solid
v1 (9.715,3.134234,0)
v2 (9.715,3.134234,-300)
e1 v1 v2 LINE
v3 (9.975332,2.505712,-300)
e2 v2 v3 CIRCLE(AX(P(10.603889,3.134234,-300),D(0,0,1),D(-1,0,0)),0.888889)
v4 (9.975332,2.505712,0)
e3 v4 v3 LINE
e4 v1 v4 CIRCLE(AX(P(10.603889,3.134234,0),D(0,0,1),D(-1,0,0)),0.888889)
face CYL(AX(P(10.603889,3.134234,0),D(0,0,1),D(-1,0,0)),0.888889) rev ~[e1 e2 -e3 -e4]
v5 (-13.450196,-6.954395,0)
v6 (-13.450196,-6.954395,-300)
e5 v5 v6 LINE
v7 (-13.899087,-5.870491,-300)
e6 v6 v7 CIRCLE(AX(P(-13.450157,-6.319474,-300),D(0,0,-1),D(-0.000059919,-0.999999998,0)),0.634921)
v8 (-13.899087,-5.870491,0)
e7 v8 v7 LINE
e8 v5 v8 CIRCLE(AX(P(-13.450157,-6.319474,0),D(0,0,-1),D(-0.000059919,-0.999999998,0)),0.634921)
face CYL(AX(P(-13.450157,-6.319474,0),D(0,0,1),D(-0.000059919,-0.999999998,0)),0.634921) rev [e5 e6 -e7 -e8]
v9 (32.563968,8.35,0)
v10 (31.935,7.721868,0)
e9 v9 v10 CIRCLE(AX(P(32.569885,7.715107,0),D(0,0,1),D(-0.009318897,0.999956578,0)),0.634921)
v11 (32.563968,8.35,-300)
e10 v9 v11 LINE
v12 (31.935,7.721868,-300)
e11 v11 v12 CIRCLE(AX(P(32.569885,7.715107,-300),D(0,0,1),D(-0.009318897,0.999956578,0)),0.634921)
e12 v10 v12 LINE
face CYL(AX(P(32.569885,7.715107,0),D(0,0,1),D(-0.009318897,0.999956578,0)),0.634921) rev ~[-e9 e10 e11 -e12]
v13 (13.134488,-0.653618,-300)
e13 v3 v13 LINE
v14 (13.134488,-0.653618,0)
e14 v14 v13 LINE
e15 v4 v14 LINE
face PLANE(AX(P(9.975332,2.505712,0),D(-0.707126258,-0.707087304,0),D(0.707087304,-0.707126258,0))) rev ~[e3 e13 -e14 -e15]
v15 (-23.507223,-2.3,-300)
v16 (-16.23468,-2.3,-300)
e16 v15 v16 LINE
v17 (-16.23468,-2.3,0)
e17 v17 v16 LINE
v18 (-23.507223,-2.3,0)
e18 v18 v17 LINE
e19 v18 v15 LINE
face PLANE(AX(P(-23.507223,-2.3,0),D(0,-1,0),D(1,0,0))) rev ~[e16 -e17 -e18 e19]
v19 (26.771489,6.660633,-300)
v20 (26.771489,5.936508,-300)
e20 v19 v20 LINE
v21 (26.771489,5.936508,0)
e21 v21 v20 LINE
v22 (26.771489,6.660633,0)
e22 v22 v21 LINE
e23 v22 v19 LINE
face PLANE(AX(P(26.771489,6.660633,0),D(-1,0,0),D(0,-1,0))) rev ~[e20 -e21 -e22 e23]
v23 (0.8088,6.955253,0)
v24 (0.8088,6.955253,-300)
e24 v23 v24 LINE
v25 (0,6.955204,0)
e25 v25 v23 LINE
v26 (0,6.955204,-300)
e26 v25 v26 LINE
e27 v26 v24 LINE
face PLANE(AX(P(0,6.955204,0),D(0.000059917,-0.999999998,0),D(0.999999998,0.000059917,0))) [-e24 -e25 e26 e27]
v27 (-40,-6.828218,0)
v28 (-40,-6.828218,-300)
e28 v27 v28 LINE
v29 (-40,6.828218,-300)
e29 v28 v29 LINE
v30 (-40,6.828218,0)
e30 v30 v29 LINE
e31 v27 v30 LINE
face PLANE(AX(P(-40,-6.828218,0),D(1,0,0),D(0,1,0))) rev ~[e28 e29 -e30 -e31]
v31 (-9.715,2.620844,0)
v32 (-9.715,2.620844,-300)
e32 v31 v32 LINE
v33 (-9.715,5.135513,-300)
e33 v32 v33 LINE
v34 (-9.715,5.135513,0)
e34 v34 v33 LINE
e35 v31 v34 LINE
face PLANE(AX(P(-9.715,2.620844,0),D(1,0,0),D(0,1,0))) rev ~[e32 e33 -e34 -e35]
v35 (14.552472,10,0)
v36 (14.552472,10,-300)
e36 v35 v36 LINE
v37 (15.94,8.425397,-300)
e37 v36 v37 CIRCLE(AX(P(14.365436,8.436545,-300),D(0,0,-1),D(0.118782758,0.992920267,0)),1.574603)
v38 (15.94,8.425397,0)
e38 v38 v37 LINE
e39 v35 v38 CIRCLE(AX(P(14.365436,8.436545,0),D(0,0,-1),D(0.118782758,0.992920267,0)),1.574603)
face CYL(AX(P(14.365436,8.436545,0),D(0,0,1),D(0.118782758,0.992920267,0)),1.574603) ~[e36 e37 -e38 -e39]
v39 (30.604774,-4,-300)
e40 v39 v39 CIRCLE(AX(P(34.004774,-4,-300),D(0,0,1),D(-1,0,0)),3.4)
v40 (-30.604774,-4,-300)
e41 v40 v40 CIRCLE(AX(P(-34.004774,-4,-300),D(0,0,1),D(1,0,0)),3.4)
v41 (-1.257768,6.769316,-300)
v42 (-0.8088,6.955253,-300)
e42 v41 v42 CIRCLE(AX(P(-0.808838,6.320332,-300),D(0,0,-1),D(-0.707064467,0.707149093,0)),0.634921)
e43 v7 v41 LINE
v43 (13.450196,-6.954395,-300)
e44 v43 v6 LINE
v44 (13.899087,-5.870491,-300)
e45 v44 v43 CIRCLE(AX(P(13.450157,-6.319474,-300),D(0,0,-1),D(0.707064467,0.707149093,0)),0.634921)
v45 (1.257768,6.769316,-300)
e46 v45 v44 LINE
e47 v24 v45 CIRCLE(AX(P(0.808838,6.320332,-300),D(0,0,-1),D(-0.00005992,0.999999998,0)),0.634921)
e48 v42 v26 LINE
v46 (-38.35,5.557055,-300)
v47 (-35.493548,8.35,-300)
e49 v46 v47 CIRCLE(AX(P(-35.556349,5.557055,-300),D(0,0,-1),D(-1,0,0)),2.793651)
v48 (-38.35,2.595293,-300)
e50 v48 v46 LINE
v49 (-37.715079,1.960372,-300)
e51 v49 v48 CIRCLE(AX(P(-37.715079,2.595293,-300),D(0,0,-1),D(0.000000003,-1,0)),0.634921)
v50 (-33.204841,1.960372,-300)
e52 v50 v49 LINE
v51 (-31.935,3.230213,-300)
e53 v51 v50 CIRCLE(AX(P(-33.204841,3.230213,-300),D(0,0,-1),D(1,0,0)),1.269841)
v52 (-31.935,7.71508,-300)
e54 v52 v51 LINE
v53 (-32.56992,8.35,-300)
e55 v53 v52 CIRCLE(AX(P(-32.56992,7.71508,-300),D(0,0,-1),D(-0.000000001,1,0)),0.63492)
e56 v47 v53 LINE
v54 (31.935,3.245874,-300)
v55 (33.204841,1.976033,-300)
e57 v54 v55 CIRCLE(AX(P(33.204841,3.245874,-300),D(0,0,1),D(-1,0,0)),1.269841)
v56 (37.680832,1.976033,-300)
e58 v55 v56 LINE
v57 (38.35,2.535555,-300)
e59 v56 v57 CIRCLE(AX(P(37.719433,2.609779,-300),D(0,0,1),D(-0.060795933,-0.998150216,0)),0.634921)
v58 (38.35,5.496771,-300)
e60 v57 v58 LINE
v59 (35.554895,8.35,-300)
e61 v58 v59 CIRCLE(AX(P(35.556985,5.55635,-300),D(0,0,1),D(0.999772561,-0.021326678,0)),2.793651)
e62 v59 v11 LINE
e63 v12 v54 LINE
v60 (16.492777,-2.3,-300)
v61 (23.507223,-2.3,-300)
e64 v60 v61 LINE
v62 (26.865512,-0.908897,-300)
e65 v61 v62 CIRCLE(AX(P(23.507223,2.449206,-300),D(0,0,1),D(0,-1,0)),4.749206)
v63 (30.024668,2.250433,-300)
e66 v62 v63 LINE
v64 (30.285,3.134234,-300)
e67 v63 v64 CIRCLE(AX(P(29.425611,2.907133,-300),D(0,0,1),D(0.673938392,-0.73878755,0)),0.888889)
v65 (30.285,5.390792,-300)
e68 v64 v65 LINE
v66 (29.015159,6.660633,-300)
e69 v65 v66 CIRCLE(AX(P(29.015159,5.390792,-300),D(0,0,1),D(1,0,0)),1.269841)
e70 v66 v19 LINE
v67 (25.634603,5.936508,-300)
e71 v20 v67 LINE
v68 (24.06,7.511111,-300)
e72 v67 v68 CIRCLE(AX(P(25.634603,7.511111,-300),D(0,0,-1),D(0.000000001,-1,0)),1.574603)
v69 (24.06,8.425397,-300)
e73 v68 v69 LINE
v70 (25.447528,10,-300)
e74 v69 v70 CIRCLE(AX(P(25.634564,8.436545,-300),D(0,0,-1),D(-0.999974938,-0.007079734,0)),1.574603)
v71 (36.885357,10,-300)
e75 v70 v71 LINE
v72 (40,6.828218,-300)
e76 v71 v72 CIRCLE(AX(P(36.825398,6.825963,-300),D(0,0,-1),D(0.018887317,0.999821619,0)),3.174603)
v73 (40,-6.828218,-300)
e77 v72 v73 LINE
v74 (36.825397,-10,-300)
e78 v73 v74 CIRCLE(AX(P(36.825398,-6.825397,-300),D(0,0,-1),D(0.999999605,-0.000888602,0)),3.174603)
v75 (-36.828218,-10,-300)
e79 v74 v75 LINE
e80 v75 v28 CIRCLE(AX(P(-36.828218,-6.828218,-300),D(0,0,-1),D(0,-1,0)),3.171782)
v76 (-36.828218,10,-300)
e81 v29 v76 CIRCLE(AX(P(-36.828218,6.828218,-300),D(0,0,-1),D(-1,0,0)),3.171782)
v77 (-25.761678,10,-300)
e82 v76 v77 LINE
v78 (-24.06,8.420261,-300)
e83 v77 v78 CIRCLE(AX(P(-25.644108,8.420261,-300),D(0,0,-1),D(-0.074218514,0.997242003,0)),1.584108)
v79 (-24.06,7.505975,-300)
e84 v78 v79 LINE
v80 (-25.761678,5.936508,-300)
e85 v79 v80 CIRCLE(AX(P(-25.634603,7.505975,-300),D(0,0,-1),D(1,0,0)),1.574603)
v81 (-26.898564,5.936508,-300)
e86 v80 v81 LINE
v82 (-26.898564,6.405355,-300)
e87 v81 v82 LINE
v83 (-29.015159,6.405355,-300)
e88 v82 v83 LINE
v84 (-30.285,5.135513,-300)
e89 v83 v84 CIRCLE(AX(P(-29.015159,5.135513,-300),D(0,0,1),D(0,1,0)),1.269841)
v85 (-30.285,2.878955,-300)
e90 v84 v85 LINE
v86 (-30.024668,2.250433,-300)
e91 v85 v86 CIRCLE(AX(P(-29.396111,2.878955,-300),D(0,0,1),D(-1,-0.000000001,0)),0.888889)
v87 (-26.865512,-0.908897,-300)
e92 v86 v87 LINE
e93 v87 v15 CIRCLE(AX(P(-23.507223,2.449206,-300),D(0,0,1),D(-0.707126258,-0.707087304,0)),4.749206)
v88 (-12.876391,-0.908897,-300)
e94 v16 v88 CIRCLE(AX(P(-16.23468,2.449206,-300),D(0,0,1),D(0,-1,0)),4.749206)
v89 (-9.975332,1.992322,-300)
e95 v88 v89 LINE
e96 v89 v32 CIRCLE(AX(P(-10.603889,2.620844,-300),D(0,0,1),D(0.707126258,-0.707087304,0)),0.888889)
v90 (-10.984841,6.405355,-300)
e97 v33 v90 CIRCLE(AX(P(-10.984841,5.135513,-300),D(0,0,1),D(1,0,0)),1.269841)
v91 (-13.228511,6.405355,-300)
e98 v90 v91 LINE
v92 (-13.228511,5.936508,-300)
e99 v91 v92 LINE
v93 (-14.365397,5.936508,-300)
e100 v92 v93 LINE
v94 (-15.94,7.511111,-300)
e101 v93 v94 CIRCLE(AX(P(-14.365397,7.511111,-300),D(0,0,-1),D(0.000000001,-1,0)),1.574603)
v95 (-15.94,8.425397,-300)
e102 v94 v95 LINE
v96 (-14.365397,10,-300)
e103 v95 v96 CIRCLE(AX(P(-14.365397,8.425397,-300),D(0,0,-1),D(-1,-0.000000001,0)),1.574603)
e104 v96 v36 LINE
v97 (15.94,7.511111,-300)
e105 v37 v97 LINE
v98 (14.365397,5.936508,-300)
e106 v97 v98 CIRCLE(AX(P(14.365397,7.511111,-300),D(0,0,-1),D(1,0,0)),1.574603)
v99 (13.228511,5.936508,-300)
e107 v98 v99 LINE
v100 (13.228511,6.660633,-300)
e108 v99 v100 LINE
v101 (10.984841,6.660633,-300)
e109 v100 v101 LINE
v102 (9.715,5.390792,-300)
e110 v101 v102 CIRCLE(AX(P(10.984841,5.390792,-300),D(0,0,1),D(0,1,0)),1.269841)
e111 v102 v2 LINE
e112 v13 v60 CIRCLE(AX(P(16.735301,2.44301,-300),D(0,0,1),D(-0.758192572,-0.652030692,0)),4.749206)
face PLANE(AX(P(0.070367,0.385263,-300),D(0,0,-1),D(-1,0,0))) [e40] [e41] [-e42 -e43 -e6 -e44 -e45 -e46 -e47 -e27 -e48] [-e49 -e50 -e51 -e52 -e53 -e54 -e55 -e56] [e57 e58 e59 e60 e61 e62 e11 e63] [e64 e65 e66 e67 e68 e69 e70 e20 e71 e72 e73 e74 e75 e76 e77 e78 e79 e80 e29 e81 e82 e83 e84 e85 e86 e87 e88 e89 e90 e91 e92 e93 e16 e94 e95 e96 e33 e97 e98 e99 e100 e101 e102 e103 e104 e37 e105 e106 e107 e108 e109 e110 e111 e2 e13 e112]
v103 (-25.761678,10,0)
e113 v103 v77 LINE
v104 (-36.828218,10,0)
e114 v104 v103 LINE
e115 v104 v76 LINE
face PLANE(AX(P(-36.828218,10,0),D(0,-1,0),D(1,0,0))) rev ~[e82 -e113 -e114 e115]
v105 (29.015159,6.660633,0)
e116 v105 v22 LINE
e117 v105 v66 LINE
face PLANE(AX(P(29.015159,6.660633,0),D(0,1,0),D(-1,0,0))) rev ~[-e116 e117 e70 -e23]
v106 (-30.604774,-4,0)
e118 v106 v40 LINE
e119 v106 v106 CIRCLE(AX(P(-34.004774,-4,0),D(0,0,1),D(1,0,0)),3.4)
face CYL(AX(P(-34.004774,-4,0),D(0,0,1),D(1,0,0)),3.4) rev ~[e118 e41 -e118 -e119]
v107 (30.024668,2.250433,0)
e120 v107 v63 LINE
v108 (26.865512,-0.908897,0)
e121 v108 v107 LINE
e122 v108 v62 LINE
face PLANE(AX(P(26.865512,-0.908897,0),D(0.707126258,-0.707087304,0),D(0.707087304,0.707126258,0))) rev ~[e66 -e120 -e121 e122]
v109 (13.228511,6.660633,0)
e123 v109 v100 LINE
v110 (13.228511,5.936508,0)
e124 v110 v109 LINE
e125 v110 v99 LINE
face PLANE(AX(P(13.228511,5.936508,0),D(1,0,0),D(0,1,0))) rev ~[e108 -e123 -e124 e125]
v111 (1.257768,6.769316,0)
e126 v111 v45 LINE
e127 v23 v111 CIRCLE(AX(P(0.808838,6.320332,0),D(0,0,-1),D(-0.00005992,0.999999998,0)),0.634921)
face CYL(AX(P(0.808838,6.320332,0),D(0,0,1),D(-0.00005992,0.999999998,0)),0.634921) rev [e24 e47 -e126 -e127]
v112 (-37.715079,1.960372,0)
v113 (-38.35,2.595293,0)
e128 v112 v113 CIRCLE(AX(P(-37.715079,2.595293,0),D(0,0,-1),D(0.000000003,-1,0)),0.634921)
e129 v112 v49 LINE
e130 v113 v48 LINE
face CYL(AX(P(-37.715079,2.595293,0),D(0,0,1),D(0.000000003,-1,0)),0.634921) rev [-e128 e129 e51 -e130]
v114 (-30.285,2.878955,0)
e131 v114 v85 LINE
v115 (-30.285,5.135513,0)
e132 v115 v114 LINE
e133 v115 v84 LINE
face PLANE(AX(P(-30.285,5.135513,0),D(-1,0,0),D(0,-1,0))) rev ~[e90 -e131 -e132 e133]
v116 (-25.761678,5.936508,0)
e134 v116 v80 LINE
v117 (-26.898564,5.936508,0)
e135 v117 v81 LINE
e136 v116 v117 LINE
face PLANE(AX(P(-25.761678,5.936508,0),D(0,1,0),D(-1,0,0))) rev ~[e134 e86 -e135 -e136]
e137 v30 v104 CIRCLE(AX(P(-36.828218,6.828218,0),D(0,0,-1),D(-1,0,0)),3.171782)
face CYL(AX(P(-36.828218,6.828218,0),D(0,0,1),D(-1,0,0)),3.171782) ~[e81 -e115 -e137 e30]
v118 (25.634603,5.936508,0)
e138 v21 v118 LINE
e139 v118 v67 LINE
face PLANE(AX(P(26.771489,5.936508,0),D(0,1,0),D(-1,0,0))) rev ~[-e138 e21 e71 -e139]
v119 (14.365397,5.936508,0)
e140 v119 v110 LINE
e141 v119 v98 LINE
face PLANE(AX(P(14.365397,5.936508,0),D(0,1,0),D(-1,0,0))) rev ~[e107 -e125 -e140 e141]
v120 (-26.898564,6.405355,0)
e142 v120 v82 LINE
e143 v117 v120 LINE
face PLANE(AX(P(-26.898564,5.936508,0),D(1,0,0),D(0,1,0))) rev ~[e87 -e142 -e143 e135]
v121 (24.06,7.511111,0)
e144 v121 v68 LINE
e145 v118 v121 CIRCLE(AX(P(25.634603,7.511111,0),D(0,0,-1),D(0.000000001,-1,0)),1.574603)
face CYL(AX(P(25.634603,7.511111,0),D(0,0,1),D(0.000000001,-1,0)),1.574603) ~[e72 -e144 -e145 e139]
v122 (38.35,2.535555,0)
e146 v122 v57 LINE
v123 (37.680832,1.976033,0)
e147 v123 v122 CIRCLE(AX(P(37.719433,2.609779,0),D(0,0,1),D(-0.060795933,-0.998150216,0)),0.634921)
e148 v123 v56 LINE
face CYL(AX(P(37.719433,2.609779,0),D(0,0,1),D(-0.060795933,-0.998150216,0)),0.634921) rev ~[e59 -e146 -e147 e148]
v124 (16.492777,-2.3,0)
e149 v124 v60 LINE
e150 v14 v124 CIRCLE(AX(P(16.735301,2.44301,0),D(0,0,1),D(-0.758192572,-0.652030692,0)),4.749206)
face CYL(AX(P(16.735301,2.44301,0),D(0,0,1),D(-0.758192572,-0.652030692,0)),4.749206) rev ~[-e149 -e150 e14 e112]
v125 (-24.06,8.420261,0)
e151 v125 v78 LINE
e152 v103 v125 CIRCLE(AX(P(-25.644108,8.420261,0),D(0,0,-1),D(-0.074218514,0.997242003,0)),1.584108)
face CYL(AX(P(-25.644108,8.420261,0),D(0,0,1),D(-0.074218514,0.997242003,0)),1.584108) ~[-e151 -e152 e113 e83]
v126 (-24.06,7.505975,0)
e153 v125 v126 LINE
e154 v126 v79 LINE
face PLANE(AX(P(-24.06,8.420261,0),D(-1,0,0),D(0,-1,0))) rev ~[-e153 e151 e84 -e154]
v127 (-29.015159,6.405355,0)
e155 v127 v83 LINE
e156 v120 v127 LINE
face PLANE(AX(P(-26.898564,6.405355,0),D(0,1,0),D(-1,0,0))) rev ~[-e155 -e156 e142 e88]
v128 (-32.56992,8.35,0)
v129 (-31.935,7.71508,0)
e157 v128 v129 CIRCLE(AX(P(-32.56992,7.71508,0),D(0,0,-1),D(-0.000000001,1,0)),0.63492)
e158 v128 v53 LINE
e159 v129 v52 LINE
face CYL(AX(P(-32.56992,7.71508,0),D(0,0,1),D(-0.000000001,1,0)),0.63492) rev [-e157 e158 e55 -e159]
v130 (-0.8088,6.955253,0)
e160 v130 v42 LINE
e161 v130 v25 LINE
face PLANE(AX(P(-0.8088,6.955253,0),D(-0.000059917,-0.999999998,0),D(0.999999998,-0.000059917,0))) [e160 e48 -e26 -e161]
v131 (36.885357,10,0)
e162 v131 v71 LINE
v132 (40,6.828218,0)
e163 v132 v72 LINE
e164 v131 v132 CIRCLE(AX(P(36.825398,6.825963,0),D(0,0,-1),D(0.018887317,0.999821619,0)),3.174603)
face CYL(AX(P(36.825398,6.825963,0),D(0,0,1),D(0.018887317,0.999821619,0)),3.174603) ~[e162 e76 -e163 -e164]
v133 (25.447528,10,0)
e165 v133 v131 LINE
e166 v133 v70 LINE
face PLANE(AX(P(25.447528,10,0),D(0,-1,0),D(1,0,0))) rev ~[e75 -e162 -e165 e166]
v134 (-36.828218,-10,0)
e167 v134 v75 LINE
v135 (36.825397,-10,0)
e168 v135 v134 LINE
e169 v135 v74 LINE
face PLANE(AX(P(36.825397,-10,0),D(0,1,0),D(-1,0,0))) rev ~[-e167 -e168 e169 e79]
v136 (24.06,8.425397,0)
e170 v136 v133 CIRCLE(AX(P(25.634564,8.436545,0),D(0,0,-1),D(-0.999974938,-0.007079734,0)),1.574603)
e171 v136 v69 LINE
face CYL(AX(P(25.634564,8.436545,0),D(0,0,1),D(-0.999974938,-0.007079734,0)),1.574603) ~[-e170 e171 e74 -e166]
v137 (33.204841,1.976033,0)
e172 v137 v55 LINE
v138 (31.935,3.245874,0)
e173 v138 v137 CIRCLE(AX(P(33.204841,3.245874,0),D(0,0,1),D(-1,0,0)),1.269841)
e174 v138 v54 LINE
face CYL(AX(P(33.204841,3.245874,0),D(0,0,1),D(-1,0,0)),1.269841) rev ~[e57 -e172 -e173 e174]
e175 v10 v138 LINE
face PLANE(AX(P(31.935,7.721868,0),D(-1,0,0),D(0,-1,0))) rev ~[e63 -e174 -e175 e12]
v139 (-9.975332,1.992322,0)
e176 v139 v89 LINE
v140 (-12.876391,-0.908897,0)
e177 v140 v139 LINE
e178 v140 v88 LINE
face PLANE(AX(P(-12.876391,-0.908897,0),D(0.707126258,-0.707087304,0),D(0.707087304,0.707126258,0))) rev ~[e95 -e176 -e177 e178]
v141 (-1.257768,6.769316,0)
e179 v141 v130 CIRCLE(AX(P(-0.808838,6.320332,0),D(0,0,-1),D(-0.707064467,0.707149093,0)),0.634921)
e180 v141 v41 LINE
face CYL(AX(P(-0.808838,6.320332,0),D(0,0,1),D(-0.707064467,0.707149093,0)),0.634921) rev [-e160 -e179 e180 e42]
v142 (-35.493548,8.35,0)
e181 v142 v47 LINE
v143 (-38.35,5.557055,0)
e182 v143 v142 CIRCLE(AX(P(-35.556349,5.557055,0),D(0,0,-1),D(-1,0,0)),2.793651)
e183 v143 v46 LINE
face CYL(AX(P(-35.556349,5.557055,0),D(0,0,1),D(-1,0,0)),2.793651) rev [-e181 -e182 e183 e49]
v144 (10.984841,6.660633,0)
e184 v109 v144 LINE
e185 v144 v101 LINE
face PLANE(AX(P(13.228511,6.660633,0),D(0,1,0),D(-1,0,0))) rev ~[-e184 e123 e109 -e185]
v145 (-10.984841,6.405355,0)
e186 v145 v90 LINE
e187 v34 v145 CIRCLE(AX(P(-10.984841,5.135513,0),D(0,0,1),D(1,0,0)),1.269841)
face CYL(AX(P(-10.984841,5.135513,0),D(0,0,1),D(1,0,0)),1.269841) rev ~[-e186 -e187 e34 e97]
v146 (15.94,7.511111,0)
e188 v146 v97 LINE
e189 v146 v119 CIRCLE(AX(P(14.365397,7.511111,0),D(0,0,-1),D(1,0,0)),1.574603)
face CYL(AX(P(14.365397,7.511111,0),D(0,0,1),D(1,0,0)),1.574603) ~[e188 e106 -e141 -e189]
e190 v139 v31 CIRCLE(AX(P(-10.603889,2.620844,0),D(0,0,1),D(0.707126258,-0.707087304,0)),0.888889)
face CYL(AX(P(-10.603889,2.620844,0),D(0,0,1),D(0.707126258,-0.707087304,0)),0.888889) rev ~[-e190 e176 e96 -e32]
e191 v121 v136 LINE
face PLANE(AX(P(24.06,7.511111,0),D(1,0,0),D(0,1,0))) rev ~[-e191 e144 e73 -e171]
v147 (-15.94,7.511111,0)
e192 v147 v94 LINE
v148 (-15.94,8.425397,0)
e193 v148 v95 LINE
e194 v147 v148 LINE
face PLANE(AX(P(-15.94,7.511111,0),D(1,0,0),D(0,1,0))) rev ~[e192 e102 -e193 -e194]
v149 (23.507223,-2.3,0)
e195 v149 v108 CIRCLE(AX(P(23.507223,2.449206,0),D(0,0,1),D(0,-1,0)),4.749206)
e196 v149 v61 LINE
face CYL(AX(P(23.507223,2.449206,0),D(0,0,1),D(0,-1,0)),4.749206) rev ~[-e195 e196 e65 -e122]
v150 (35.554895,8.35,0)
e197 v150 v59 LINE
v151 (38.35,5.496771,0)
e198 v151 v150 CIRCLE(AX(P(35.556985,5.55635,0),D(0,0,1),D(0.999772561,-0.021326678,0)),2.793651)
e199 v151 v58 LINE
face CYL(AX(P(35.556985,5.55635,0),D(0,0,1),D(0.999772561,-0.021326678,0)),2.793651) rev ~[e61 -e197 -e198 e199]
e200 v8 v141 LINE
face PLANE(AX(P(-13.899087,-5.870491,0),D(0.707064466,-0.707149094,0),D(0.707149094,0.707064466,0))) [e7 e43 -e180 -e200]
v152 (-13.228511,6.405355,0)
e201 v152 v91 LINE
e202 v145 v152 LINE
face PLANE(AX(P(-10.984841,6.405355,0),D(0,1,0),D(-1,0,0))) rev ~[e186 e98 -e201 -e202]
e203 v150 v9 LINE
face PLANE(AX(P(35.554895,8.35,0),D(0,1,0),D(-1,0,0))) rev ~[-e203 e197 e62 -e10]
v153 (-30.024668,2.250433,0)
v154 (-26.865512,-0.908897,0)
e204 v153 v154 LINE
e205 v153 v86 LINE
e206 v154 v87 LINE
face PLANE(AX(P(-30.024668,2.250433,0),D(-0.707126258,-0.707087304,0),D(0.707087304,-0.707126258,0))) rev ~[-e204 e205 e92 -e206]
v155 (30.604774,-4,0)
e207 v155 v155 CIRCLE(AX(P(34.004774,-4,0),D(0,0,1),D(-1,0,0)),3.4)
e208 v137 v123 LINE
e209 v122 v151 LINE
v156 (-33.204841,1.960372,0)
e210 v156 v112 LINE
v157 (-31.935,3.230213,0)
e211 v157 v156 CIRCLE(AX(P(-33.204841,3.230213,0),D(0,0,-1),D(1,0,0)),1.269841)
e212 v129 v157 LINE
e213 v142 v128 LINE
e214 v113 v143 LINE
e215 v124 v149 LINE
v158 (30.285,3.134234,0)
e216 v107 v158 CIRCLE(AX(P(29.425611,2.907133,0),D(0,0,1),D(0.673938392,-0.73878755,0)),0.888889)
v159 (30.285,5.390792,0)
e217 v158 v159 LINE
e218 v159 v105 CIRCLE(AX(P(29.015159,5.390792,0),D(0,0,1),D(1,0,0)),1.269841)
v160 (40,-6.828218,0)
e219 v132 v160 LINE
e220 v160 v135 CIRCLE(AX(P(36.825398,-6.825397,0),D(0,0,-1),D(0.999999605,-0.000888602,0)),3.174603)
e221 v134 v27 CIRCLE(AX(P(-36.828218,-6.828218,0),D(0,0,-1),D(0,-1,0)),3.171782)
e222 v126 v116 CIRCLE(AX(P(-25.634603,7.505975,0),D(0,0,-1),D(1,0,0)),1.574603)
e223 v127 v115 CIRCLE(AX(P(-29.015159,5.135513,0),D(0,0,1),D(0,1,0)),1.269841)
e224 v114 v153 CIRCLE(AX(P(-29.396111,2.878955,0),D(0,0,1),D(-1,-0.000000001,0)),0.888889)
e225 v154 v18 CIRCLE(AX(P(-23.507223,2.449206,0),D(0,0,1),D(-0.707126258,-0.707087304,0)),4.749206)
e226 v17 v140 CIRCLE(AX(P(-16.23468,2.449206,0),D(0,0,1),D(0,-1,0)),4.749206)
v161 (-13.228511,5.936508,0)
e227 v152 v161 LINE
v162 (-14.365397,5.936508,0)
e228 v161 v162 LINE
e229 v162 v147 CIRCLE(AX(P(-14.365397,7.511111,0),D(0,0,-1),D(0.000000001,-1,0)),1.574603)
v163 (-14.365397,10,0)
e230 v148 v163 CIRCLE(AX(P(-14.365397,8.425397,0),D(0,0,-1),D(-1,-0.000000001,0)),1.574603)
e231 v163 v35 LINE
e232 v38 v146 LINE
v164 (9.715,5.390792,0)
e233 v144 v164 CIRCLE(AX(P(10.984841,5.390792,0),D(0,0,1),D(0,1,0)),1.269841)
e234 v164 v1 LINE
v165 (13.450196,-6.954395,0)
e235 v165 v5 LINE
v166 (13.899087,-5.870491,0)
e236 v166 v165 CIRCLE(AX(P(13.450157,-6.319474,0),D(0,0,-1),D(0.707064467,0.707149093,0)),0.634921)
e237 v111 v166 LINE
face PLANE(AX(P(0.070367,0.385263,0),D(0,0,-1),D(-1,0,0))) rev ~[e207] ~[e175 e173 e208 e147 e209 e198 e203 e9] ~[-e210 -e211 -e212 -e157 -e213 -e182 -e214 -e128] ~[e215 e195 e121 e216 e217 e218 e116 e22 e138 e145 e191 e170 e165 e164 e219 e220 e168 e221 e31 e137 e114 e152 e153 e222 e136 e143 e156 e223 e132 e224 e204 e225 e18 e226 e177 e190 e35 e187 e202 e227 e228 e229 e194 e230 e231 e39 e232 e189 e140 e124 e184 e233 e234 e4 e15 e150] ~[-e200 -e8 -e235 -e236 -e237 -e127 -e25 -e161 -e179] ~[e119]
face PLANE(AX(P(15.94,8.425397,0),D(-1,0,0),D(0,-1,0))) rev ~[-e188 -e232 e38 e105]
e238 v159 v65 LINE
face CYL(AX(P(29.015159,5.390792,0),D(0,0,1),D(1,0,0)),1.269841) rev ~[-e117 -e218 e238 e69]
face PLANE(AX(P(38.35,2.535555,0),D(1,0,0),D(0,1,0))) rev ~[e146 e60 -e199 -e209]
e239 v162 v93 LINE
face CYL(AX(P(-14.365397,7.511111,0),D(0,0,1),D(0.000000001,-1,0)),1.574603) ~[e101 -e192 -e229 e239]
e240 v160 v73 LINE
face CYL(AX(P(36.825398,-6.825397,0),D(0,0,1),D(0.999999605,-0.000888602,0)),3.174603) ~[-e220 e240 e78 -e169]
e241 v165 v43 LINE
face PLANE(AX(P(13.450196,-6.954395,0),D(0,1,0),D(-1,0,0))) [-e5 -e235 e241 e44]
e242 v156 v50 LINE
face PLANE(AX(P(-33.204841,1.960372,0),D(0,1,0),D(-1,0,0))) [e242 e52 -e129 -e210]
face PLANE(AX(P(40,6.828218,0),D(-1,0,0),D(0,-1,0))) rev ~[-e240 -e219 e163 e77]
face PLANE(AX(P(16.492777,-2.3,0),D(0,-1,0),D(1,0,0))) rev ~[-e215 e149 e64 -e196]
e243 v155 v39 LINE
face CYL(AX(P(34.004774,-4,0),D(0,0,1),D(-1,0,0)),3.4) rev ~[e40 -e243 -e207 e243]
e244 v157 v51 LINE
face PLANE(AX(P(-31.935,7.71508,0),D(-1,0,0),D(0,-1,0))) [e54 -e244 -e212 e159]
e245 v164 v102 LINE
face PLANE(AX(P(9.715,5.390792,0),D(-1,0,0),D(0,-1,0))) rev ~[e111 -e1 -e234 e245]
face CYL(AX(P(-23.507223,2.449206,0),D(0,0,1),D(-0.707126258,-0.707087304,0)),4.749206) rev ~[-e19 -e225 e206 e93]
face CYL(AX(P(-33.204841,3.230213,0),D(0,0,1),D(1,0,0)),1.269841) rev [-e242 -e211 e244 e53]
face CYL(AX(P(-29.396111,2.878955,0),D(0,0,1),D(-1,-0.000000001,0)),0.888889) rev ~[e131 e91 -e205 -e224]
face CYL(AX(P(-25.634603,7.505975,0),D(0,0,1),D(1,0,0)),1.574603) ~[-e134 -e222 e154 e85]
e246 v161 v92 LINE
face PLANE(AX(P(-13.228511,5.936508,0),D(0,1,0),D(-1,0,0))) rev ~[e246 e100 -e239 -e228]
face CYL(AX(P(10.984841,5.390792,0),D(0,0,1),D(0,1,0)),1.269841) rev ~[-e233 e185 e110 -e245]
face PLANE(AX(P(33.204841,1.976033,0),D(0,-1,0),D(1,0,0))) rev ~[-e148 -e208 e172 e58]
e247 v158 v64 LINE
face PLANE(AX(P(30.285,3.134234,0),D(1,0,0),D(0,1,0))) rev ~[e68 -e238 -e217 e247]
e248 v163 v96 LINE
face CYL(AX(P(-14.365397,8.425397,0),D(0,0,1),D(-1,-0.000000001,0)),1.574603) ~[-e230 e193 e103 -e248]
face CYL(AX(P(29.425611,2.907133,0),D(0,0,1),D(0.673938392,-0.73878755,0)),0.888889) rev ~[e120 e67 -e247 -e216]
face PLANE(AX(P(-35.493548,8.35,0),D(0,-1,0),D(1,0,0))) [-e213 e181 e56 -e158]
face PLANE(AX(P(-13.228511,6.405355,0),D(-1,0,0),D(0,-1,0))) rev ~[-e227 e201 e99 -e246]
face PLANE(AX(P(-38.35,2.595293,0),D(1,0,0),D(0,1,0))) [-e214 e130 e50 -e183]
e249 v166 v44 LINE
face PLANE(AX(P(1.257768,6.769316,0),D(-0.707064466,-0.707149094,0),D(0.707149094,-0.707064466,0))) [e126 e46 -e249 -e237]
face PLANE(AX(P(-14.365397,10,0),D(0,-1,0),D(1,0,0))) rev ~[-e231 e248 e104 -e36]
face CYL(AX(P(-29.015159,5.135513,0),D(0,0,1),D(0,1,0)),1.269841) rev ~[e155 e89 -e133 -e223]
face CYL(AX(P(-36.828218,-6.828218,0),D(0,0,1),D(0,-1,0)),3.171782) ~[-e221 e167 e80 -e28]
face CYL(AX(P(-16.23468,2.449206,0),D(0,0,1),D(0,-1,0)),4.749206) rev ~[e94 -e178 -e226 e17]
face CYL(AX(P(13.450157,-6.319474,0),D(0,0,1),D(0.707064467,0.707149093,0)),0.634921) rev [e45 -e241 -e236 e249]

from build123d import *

# Parameters (mm, degrees)
SKETCH1_R      = 3.4
SKETCH1_R_2    = 3.400000006
EXTRUDE1_DEPTH = 300


with BuildPart() as part:
    # Sketch1 → Extrude1 (new body)
    with BuildSketch(Plane.XY):
        with BuildLine():
            Line((-36.828217803, 10), (-25.761678346, 10))
            ThreePointArc((-25.761678346, 10), (-24.566343162, 9.581217839), (-24.06, 8.420260776))
            Line((-24.06, 8.420260776), (-24.06, 7.505975062))
            ThreePointArc((-24.06, 7.505975062), (-24.567063435, 6.348506245), (-25.761678346, 5.936507937))
            Line((-25.761678346, 5.936507937), (-26.89856374, 5.936507937))
            Line((-26.89856374, 5.936507937), (-26.89856374, 6.405354551))
            Line((-26.89856374, 6.405354551), (-29.01515873, 6.405354551))
            ThreePointArc((-29.01515873, 6.405354551), (-29.913072103, 6.033426654), (-30.285, 5.135513281))
            Line((-30.285, 5.135513281), (-30.285, 2.878955078))
            ThreePointArc((-30.285, 2.878955078), (-30.217342047, 2.538803338), (-30.024667785, 2.250433031))
            Line((-30.024667785, 2.250433031), (-26.865511635, -0.908897163))
            ThreePointArc((-26.865511635, -0.908897163), (-25.324726136, -1.938463161), (-23.50722312, -2.3))
            Line((-23.50722312, -2.3), (-16.234679932, -2.3))
            ThreePointArc((-16.234679932, -2.3), (-14.417176915, -1.938463161), (-12.876391416, -0.908897163))
            Line((-12.876391416, -0.908897163), (-9.975332215, 1.992321863))
            ThreePointArc((-9.975332215, 1.992321863), (-9.782657953, 2.28069217), (-9.715, 2.620843911))
            Line((-9.715, 2.620843911), (-9.715, 5.135513281))
            ThreePointArc((-9.715, 5.135513281), (-10.086927897, 6.033426654), (-10.98484127, 6.405354551))
            Line((-10.98484127, 6.405354551), (-13.228511431, 6.405354551))
            Line((-13.228511431, 6.405354551), (-13.228511431, 5.936507937))
            Line((-13.228511431, 5.936507937), (-14.365396825, 5.936507937))
            ThreePointArc((-14.365396825, 5.936507937), (-15.478809408, 6.397698529), (-15.94, 7.511111111))
            Line((-15.94, 7.511111111), (-15.94, 8.425396825))
            ThreePointArc((-15.94, 8.425396825), (-15.478809408, 9.538809408), (-14.365396825, 10))
            Line((-14.365396825, 10), (-7.044126982, 10))
            Line((-7.044126982, 10), (14.552471996, 10))
            ThreePointArc((14.552471996, 10), (15.546813416, 9.477564883), (15.94, 8.425396825))
            Line((15.94, 8.425396825), (15.94, 7.511111111))
            ThreePointArc((15.94, 7.511111111), (15.478809408, 6.397698529), (14.365396825, 5.936507937))
            Line((14.365396825, 5.936507937), (13.228511431, 5.936507937))
            Line((13.228511431, 5.936507937), (13.228511431, 6.660633301))
            Line((13.228511431, 6.660633301), (10.98484127, 6.660633301))
            ThreePointArc((10.98484127, 6.660633301), (10.086927897, 6.288705404), (9.715, 5.390792031))
            Line((9.715, 5.390792031), (9.715, 3.134233829))
            ThreePointArc((9.715, 3.134233829), (9.782657953, 2.794082088), (9.975332215, 2.505711781))
            Line((9.975332215, 2.505711781), (13.134488365, -0.653618412))
            ThreePointArc((13.134488365, -0.653618412), (14.64473832, -1.821319739), (16.49277688, -2.3))
            Line((16.49277688, -2.3), (23.50722312, -2.3))
            ThreePointArc((23.50722312, -2.3), (25.324726136, -1.938463161), (26.865511635, -0.908897163))
            Line((26.865511635, -0.908897163), (30.024667785, 2.250433031))
            ThreePointArc((30.024667785, 2.250433031), (30.278278636, 2.655971567), (30.285, 3.134233829))
            Line((30.285, 3.134233829), (30.285, 5.390792031))
            ThreePointArc((30.285, 5.390792031), (29.913072103, 6.288705404), (29.01515873, 6.660633301))
            Line((29.01515873, 6.660633301), (26.771488569, 6.660633301))
            Line((26.771488569, 6.660633301), (26.771488569, 5.936507937))
            Line((26.771488569, 5.936507937), (25.634603175, 5.936507937))
            ThreePointArc((25.634603175, 5.936507937), (24.521190592, 6.397698529), (24.06, 7.511111111))
            Line((24.06, 7.511111111), (24.06, 8.425396825))
            ThreePointArc((24.06, 8.425396825), (24.453186584, 9.477564883), (25.447528004, 10))
            Line((25.447528004, 10), (33.075833554, 10))
            Line((33.075833554, 10), (36.885357363, 10))
            ThreePointArc((36.885357363, 10), (39.090491138, 9.050251023), (40, 6.828217785))
            Line((40, 6.828217785), (40, -6.828217785))
            ThreePointArc((40, -6.828217785), (39.069183486, -9.071177839), (36.825396825, -10))
            Line((36.825396825, -10), (-36.828217803, -10))
            ThreePointArc((-36.828217803, -10), (-39.071006503, -9.071006503), (-40, -6.828217803))
            Line((-40, -6.828217803), (-40, 6.828217803))
            ThreePointArc((-40, 6.828217803), (-39.071006503, 9.071006503), (-36.828217803, 10))
        make_face()
        with Locations((-34.004773868, -4)):
            Circle(SKETCH1_R, mode=Mode.SUBTRACT)
        with Locations(Location((34.004773868, -4, 0), (0, 0, 180))):
            Circle(SKETCH1_R_2, mode=Mode.SUBTRACT)
        with BuildLine():
            Line((-38.35, 2.595292927), (-38.35, 5.557055178))
            ThreePointArc((-38.35, 5.557055178), (-37.509428882, 7.554544736), (-35.493548116, 8.35))
            Line((-35.493548116, 8.35), (-32.569919859, 8.35))
            ThreePointArc((-32.569919859, 8.35), (-32.120963721, 8.164036279), (-31.935, 7.715080141))
            Line((-31.935, 7.715080141), (-31.935, 3.230213422))
            ThreePointArc((-31.935, 3.230213422), (-32.306927856, 2.332300148), (-33.20484113, 1.960372292))
            Line((-33.20484113, 1.960372292), (-37.715079365, 1.960372292))
            ThreePointArc((-37.715079365, 1.960372292), (-38.164036052, 2.14633624), (-38.35, 2.595292927))
        make_face(mode=Mode.SUBTRACT)
        with BuildLine():
            Line((13.450195503, -6.954394873), (-13.450195503, -6.954394873))
            ThreePointArc((-13.450195503, -6.954394873), (-14.036762187, -6.562412722), (-13.89908728, -5.870490687))
            Line((-13.89908728, -5.870490687), (-1.257767926, 6.769315833))
            ThreePointArc((-1.257767926, 6.769315833), (-1.051776589, 6.906937009), (-0.808800063, 6.955252915))
            Line((-0.808800063, 6.955252915), (0, 6.955204454))
            Line((0, 6.955204454), (0.808800063, 6.955252915))
            ThreePointArc((0.808800063, 6.955252915), (1.051776589, 6.906937009), (1.257767926, 6.769315833))
            Line((1.257767926, 6.769315833), (13.89908728, -5.870490687))
            ThreePointArc((13.89908728, -5.870490687), (14.036762187, -6.562412722), (13.450195503, -6.954394873))
        make_face(mode=Mode.SUBTRACT)
        with BuildLine():
            Line((35.554894965, 8.35), (32.563967874, 8.35))
            ThreePointArc((32.563967874, 8.35), (32.121226634, 8.164362109), (31.935, 7.721868186))
            Line((31.935, 7.721868186), (31.935, 3.245873842))
            ThreePointArc((31.935, 3.245873842), (32.306927897, 2.347960469), (33.20484127, 1.976032573))
            Line((33.20484127, 1.976032573), (37.680832198, 1.976032573))
            ThreePointArc((37.680832198, 1.976032573), (38.126707117, 2.122693703), (38.35, 2.535554718))
            Line((38.35, 2.535554718), (38.35, 5.496770698))
            ThreePointArc((38.35, 5.496770698), (37.552616332, 7.511327921), (35.554894965, 8.35))
        make_face(mode=Mode.SUBTRACT)
    extrude(amount=-EXTRUDE1_DEPTH)


solid = part.part
